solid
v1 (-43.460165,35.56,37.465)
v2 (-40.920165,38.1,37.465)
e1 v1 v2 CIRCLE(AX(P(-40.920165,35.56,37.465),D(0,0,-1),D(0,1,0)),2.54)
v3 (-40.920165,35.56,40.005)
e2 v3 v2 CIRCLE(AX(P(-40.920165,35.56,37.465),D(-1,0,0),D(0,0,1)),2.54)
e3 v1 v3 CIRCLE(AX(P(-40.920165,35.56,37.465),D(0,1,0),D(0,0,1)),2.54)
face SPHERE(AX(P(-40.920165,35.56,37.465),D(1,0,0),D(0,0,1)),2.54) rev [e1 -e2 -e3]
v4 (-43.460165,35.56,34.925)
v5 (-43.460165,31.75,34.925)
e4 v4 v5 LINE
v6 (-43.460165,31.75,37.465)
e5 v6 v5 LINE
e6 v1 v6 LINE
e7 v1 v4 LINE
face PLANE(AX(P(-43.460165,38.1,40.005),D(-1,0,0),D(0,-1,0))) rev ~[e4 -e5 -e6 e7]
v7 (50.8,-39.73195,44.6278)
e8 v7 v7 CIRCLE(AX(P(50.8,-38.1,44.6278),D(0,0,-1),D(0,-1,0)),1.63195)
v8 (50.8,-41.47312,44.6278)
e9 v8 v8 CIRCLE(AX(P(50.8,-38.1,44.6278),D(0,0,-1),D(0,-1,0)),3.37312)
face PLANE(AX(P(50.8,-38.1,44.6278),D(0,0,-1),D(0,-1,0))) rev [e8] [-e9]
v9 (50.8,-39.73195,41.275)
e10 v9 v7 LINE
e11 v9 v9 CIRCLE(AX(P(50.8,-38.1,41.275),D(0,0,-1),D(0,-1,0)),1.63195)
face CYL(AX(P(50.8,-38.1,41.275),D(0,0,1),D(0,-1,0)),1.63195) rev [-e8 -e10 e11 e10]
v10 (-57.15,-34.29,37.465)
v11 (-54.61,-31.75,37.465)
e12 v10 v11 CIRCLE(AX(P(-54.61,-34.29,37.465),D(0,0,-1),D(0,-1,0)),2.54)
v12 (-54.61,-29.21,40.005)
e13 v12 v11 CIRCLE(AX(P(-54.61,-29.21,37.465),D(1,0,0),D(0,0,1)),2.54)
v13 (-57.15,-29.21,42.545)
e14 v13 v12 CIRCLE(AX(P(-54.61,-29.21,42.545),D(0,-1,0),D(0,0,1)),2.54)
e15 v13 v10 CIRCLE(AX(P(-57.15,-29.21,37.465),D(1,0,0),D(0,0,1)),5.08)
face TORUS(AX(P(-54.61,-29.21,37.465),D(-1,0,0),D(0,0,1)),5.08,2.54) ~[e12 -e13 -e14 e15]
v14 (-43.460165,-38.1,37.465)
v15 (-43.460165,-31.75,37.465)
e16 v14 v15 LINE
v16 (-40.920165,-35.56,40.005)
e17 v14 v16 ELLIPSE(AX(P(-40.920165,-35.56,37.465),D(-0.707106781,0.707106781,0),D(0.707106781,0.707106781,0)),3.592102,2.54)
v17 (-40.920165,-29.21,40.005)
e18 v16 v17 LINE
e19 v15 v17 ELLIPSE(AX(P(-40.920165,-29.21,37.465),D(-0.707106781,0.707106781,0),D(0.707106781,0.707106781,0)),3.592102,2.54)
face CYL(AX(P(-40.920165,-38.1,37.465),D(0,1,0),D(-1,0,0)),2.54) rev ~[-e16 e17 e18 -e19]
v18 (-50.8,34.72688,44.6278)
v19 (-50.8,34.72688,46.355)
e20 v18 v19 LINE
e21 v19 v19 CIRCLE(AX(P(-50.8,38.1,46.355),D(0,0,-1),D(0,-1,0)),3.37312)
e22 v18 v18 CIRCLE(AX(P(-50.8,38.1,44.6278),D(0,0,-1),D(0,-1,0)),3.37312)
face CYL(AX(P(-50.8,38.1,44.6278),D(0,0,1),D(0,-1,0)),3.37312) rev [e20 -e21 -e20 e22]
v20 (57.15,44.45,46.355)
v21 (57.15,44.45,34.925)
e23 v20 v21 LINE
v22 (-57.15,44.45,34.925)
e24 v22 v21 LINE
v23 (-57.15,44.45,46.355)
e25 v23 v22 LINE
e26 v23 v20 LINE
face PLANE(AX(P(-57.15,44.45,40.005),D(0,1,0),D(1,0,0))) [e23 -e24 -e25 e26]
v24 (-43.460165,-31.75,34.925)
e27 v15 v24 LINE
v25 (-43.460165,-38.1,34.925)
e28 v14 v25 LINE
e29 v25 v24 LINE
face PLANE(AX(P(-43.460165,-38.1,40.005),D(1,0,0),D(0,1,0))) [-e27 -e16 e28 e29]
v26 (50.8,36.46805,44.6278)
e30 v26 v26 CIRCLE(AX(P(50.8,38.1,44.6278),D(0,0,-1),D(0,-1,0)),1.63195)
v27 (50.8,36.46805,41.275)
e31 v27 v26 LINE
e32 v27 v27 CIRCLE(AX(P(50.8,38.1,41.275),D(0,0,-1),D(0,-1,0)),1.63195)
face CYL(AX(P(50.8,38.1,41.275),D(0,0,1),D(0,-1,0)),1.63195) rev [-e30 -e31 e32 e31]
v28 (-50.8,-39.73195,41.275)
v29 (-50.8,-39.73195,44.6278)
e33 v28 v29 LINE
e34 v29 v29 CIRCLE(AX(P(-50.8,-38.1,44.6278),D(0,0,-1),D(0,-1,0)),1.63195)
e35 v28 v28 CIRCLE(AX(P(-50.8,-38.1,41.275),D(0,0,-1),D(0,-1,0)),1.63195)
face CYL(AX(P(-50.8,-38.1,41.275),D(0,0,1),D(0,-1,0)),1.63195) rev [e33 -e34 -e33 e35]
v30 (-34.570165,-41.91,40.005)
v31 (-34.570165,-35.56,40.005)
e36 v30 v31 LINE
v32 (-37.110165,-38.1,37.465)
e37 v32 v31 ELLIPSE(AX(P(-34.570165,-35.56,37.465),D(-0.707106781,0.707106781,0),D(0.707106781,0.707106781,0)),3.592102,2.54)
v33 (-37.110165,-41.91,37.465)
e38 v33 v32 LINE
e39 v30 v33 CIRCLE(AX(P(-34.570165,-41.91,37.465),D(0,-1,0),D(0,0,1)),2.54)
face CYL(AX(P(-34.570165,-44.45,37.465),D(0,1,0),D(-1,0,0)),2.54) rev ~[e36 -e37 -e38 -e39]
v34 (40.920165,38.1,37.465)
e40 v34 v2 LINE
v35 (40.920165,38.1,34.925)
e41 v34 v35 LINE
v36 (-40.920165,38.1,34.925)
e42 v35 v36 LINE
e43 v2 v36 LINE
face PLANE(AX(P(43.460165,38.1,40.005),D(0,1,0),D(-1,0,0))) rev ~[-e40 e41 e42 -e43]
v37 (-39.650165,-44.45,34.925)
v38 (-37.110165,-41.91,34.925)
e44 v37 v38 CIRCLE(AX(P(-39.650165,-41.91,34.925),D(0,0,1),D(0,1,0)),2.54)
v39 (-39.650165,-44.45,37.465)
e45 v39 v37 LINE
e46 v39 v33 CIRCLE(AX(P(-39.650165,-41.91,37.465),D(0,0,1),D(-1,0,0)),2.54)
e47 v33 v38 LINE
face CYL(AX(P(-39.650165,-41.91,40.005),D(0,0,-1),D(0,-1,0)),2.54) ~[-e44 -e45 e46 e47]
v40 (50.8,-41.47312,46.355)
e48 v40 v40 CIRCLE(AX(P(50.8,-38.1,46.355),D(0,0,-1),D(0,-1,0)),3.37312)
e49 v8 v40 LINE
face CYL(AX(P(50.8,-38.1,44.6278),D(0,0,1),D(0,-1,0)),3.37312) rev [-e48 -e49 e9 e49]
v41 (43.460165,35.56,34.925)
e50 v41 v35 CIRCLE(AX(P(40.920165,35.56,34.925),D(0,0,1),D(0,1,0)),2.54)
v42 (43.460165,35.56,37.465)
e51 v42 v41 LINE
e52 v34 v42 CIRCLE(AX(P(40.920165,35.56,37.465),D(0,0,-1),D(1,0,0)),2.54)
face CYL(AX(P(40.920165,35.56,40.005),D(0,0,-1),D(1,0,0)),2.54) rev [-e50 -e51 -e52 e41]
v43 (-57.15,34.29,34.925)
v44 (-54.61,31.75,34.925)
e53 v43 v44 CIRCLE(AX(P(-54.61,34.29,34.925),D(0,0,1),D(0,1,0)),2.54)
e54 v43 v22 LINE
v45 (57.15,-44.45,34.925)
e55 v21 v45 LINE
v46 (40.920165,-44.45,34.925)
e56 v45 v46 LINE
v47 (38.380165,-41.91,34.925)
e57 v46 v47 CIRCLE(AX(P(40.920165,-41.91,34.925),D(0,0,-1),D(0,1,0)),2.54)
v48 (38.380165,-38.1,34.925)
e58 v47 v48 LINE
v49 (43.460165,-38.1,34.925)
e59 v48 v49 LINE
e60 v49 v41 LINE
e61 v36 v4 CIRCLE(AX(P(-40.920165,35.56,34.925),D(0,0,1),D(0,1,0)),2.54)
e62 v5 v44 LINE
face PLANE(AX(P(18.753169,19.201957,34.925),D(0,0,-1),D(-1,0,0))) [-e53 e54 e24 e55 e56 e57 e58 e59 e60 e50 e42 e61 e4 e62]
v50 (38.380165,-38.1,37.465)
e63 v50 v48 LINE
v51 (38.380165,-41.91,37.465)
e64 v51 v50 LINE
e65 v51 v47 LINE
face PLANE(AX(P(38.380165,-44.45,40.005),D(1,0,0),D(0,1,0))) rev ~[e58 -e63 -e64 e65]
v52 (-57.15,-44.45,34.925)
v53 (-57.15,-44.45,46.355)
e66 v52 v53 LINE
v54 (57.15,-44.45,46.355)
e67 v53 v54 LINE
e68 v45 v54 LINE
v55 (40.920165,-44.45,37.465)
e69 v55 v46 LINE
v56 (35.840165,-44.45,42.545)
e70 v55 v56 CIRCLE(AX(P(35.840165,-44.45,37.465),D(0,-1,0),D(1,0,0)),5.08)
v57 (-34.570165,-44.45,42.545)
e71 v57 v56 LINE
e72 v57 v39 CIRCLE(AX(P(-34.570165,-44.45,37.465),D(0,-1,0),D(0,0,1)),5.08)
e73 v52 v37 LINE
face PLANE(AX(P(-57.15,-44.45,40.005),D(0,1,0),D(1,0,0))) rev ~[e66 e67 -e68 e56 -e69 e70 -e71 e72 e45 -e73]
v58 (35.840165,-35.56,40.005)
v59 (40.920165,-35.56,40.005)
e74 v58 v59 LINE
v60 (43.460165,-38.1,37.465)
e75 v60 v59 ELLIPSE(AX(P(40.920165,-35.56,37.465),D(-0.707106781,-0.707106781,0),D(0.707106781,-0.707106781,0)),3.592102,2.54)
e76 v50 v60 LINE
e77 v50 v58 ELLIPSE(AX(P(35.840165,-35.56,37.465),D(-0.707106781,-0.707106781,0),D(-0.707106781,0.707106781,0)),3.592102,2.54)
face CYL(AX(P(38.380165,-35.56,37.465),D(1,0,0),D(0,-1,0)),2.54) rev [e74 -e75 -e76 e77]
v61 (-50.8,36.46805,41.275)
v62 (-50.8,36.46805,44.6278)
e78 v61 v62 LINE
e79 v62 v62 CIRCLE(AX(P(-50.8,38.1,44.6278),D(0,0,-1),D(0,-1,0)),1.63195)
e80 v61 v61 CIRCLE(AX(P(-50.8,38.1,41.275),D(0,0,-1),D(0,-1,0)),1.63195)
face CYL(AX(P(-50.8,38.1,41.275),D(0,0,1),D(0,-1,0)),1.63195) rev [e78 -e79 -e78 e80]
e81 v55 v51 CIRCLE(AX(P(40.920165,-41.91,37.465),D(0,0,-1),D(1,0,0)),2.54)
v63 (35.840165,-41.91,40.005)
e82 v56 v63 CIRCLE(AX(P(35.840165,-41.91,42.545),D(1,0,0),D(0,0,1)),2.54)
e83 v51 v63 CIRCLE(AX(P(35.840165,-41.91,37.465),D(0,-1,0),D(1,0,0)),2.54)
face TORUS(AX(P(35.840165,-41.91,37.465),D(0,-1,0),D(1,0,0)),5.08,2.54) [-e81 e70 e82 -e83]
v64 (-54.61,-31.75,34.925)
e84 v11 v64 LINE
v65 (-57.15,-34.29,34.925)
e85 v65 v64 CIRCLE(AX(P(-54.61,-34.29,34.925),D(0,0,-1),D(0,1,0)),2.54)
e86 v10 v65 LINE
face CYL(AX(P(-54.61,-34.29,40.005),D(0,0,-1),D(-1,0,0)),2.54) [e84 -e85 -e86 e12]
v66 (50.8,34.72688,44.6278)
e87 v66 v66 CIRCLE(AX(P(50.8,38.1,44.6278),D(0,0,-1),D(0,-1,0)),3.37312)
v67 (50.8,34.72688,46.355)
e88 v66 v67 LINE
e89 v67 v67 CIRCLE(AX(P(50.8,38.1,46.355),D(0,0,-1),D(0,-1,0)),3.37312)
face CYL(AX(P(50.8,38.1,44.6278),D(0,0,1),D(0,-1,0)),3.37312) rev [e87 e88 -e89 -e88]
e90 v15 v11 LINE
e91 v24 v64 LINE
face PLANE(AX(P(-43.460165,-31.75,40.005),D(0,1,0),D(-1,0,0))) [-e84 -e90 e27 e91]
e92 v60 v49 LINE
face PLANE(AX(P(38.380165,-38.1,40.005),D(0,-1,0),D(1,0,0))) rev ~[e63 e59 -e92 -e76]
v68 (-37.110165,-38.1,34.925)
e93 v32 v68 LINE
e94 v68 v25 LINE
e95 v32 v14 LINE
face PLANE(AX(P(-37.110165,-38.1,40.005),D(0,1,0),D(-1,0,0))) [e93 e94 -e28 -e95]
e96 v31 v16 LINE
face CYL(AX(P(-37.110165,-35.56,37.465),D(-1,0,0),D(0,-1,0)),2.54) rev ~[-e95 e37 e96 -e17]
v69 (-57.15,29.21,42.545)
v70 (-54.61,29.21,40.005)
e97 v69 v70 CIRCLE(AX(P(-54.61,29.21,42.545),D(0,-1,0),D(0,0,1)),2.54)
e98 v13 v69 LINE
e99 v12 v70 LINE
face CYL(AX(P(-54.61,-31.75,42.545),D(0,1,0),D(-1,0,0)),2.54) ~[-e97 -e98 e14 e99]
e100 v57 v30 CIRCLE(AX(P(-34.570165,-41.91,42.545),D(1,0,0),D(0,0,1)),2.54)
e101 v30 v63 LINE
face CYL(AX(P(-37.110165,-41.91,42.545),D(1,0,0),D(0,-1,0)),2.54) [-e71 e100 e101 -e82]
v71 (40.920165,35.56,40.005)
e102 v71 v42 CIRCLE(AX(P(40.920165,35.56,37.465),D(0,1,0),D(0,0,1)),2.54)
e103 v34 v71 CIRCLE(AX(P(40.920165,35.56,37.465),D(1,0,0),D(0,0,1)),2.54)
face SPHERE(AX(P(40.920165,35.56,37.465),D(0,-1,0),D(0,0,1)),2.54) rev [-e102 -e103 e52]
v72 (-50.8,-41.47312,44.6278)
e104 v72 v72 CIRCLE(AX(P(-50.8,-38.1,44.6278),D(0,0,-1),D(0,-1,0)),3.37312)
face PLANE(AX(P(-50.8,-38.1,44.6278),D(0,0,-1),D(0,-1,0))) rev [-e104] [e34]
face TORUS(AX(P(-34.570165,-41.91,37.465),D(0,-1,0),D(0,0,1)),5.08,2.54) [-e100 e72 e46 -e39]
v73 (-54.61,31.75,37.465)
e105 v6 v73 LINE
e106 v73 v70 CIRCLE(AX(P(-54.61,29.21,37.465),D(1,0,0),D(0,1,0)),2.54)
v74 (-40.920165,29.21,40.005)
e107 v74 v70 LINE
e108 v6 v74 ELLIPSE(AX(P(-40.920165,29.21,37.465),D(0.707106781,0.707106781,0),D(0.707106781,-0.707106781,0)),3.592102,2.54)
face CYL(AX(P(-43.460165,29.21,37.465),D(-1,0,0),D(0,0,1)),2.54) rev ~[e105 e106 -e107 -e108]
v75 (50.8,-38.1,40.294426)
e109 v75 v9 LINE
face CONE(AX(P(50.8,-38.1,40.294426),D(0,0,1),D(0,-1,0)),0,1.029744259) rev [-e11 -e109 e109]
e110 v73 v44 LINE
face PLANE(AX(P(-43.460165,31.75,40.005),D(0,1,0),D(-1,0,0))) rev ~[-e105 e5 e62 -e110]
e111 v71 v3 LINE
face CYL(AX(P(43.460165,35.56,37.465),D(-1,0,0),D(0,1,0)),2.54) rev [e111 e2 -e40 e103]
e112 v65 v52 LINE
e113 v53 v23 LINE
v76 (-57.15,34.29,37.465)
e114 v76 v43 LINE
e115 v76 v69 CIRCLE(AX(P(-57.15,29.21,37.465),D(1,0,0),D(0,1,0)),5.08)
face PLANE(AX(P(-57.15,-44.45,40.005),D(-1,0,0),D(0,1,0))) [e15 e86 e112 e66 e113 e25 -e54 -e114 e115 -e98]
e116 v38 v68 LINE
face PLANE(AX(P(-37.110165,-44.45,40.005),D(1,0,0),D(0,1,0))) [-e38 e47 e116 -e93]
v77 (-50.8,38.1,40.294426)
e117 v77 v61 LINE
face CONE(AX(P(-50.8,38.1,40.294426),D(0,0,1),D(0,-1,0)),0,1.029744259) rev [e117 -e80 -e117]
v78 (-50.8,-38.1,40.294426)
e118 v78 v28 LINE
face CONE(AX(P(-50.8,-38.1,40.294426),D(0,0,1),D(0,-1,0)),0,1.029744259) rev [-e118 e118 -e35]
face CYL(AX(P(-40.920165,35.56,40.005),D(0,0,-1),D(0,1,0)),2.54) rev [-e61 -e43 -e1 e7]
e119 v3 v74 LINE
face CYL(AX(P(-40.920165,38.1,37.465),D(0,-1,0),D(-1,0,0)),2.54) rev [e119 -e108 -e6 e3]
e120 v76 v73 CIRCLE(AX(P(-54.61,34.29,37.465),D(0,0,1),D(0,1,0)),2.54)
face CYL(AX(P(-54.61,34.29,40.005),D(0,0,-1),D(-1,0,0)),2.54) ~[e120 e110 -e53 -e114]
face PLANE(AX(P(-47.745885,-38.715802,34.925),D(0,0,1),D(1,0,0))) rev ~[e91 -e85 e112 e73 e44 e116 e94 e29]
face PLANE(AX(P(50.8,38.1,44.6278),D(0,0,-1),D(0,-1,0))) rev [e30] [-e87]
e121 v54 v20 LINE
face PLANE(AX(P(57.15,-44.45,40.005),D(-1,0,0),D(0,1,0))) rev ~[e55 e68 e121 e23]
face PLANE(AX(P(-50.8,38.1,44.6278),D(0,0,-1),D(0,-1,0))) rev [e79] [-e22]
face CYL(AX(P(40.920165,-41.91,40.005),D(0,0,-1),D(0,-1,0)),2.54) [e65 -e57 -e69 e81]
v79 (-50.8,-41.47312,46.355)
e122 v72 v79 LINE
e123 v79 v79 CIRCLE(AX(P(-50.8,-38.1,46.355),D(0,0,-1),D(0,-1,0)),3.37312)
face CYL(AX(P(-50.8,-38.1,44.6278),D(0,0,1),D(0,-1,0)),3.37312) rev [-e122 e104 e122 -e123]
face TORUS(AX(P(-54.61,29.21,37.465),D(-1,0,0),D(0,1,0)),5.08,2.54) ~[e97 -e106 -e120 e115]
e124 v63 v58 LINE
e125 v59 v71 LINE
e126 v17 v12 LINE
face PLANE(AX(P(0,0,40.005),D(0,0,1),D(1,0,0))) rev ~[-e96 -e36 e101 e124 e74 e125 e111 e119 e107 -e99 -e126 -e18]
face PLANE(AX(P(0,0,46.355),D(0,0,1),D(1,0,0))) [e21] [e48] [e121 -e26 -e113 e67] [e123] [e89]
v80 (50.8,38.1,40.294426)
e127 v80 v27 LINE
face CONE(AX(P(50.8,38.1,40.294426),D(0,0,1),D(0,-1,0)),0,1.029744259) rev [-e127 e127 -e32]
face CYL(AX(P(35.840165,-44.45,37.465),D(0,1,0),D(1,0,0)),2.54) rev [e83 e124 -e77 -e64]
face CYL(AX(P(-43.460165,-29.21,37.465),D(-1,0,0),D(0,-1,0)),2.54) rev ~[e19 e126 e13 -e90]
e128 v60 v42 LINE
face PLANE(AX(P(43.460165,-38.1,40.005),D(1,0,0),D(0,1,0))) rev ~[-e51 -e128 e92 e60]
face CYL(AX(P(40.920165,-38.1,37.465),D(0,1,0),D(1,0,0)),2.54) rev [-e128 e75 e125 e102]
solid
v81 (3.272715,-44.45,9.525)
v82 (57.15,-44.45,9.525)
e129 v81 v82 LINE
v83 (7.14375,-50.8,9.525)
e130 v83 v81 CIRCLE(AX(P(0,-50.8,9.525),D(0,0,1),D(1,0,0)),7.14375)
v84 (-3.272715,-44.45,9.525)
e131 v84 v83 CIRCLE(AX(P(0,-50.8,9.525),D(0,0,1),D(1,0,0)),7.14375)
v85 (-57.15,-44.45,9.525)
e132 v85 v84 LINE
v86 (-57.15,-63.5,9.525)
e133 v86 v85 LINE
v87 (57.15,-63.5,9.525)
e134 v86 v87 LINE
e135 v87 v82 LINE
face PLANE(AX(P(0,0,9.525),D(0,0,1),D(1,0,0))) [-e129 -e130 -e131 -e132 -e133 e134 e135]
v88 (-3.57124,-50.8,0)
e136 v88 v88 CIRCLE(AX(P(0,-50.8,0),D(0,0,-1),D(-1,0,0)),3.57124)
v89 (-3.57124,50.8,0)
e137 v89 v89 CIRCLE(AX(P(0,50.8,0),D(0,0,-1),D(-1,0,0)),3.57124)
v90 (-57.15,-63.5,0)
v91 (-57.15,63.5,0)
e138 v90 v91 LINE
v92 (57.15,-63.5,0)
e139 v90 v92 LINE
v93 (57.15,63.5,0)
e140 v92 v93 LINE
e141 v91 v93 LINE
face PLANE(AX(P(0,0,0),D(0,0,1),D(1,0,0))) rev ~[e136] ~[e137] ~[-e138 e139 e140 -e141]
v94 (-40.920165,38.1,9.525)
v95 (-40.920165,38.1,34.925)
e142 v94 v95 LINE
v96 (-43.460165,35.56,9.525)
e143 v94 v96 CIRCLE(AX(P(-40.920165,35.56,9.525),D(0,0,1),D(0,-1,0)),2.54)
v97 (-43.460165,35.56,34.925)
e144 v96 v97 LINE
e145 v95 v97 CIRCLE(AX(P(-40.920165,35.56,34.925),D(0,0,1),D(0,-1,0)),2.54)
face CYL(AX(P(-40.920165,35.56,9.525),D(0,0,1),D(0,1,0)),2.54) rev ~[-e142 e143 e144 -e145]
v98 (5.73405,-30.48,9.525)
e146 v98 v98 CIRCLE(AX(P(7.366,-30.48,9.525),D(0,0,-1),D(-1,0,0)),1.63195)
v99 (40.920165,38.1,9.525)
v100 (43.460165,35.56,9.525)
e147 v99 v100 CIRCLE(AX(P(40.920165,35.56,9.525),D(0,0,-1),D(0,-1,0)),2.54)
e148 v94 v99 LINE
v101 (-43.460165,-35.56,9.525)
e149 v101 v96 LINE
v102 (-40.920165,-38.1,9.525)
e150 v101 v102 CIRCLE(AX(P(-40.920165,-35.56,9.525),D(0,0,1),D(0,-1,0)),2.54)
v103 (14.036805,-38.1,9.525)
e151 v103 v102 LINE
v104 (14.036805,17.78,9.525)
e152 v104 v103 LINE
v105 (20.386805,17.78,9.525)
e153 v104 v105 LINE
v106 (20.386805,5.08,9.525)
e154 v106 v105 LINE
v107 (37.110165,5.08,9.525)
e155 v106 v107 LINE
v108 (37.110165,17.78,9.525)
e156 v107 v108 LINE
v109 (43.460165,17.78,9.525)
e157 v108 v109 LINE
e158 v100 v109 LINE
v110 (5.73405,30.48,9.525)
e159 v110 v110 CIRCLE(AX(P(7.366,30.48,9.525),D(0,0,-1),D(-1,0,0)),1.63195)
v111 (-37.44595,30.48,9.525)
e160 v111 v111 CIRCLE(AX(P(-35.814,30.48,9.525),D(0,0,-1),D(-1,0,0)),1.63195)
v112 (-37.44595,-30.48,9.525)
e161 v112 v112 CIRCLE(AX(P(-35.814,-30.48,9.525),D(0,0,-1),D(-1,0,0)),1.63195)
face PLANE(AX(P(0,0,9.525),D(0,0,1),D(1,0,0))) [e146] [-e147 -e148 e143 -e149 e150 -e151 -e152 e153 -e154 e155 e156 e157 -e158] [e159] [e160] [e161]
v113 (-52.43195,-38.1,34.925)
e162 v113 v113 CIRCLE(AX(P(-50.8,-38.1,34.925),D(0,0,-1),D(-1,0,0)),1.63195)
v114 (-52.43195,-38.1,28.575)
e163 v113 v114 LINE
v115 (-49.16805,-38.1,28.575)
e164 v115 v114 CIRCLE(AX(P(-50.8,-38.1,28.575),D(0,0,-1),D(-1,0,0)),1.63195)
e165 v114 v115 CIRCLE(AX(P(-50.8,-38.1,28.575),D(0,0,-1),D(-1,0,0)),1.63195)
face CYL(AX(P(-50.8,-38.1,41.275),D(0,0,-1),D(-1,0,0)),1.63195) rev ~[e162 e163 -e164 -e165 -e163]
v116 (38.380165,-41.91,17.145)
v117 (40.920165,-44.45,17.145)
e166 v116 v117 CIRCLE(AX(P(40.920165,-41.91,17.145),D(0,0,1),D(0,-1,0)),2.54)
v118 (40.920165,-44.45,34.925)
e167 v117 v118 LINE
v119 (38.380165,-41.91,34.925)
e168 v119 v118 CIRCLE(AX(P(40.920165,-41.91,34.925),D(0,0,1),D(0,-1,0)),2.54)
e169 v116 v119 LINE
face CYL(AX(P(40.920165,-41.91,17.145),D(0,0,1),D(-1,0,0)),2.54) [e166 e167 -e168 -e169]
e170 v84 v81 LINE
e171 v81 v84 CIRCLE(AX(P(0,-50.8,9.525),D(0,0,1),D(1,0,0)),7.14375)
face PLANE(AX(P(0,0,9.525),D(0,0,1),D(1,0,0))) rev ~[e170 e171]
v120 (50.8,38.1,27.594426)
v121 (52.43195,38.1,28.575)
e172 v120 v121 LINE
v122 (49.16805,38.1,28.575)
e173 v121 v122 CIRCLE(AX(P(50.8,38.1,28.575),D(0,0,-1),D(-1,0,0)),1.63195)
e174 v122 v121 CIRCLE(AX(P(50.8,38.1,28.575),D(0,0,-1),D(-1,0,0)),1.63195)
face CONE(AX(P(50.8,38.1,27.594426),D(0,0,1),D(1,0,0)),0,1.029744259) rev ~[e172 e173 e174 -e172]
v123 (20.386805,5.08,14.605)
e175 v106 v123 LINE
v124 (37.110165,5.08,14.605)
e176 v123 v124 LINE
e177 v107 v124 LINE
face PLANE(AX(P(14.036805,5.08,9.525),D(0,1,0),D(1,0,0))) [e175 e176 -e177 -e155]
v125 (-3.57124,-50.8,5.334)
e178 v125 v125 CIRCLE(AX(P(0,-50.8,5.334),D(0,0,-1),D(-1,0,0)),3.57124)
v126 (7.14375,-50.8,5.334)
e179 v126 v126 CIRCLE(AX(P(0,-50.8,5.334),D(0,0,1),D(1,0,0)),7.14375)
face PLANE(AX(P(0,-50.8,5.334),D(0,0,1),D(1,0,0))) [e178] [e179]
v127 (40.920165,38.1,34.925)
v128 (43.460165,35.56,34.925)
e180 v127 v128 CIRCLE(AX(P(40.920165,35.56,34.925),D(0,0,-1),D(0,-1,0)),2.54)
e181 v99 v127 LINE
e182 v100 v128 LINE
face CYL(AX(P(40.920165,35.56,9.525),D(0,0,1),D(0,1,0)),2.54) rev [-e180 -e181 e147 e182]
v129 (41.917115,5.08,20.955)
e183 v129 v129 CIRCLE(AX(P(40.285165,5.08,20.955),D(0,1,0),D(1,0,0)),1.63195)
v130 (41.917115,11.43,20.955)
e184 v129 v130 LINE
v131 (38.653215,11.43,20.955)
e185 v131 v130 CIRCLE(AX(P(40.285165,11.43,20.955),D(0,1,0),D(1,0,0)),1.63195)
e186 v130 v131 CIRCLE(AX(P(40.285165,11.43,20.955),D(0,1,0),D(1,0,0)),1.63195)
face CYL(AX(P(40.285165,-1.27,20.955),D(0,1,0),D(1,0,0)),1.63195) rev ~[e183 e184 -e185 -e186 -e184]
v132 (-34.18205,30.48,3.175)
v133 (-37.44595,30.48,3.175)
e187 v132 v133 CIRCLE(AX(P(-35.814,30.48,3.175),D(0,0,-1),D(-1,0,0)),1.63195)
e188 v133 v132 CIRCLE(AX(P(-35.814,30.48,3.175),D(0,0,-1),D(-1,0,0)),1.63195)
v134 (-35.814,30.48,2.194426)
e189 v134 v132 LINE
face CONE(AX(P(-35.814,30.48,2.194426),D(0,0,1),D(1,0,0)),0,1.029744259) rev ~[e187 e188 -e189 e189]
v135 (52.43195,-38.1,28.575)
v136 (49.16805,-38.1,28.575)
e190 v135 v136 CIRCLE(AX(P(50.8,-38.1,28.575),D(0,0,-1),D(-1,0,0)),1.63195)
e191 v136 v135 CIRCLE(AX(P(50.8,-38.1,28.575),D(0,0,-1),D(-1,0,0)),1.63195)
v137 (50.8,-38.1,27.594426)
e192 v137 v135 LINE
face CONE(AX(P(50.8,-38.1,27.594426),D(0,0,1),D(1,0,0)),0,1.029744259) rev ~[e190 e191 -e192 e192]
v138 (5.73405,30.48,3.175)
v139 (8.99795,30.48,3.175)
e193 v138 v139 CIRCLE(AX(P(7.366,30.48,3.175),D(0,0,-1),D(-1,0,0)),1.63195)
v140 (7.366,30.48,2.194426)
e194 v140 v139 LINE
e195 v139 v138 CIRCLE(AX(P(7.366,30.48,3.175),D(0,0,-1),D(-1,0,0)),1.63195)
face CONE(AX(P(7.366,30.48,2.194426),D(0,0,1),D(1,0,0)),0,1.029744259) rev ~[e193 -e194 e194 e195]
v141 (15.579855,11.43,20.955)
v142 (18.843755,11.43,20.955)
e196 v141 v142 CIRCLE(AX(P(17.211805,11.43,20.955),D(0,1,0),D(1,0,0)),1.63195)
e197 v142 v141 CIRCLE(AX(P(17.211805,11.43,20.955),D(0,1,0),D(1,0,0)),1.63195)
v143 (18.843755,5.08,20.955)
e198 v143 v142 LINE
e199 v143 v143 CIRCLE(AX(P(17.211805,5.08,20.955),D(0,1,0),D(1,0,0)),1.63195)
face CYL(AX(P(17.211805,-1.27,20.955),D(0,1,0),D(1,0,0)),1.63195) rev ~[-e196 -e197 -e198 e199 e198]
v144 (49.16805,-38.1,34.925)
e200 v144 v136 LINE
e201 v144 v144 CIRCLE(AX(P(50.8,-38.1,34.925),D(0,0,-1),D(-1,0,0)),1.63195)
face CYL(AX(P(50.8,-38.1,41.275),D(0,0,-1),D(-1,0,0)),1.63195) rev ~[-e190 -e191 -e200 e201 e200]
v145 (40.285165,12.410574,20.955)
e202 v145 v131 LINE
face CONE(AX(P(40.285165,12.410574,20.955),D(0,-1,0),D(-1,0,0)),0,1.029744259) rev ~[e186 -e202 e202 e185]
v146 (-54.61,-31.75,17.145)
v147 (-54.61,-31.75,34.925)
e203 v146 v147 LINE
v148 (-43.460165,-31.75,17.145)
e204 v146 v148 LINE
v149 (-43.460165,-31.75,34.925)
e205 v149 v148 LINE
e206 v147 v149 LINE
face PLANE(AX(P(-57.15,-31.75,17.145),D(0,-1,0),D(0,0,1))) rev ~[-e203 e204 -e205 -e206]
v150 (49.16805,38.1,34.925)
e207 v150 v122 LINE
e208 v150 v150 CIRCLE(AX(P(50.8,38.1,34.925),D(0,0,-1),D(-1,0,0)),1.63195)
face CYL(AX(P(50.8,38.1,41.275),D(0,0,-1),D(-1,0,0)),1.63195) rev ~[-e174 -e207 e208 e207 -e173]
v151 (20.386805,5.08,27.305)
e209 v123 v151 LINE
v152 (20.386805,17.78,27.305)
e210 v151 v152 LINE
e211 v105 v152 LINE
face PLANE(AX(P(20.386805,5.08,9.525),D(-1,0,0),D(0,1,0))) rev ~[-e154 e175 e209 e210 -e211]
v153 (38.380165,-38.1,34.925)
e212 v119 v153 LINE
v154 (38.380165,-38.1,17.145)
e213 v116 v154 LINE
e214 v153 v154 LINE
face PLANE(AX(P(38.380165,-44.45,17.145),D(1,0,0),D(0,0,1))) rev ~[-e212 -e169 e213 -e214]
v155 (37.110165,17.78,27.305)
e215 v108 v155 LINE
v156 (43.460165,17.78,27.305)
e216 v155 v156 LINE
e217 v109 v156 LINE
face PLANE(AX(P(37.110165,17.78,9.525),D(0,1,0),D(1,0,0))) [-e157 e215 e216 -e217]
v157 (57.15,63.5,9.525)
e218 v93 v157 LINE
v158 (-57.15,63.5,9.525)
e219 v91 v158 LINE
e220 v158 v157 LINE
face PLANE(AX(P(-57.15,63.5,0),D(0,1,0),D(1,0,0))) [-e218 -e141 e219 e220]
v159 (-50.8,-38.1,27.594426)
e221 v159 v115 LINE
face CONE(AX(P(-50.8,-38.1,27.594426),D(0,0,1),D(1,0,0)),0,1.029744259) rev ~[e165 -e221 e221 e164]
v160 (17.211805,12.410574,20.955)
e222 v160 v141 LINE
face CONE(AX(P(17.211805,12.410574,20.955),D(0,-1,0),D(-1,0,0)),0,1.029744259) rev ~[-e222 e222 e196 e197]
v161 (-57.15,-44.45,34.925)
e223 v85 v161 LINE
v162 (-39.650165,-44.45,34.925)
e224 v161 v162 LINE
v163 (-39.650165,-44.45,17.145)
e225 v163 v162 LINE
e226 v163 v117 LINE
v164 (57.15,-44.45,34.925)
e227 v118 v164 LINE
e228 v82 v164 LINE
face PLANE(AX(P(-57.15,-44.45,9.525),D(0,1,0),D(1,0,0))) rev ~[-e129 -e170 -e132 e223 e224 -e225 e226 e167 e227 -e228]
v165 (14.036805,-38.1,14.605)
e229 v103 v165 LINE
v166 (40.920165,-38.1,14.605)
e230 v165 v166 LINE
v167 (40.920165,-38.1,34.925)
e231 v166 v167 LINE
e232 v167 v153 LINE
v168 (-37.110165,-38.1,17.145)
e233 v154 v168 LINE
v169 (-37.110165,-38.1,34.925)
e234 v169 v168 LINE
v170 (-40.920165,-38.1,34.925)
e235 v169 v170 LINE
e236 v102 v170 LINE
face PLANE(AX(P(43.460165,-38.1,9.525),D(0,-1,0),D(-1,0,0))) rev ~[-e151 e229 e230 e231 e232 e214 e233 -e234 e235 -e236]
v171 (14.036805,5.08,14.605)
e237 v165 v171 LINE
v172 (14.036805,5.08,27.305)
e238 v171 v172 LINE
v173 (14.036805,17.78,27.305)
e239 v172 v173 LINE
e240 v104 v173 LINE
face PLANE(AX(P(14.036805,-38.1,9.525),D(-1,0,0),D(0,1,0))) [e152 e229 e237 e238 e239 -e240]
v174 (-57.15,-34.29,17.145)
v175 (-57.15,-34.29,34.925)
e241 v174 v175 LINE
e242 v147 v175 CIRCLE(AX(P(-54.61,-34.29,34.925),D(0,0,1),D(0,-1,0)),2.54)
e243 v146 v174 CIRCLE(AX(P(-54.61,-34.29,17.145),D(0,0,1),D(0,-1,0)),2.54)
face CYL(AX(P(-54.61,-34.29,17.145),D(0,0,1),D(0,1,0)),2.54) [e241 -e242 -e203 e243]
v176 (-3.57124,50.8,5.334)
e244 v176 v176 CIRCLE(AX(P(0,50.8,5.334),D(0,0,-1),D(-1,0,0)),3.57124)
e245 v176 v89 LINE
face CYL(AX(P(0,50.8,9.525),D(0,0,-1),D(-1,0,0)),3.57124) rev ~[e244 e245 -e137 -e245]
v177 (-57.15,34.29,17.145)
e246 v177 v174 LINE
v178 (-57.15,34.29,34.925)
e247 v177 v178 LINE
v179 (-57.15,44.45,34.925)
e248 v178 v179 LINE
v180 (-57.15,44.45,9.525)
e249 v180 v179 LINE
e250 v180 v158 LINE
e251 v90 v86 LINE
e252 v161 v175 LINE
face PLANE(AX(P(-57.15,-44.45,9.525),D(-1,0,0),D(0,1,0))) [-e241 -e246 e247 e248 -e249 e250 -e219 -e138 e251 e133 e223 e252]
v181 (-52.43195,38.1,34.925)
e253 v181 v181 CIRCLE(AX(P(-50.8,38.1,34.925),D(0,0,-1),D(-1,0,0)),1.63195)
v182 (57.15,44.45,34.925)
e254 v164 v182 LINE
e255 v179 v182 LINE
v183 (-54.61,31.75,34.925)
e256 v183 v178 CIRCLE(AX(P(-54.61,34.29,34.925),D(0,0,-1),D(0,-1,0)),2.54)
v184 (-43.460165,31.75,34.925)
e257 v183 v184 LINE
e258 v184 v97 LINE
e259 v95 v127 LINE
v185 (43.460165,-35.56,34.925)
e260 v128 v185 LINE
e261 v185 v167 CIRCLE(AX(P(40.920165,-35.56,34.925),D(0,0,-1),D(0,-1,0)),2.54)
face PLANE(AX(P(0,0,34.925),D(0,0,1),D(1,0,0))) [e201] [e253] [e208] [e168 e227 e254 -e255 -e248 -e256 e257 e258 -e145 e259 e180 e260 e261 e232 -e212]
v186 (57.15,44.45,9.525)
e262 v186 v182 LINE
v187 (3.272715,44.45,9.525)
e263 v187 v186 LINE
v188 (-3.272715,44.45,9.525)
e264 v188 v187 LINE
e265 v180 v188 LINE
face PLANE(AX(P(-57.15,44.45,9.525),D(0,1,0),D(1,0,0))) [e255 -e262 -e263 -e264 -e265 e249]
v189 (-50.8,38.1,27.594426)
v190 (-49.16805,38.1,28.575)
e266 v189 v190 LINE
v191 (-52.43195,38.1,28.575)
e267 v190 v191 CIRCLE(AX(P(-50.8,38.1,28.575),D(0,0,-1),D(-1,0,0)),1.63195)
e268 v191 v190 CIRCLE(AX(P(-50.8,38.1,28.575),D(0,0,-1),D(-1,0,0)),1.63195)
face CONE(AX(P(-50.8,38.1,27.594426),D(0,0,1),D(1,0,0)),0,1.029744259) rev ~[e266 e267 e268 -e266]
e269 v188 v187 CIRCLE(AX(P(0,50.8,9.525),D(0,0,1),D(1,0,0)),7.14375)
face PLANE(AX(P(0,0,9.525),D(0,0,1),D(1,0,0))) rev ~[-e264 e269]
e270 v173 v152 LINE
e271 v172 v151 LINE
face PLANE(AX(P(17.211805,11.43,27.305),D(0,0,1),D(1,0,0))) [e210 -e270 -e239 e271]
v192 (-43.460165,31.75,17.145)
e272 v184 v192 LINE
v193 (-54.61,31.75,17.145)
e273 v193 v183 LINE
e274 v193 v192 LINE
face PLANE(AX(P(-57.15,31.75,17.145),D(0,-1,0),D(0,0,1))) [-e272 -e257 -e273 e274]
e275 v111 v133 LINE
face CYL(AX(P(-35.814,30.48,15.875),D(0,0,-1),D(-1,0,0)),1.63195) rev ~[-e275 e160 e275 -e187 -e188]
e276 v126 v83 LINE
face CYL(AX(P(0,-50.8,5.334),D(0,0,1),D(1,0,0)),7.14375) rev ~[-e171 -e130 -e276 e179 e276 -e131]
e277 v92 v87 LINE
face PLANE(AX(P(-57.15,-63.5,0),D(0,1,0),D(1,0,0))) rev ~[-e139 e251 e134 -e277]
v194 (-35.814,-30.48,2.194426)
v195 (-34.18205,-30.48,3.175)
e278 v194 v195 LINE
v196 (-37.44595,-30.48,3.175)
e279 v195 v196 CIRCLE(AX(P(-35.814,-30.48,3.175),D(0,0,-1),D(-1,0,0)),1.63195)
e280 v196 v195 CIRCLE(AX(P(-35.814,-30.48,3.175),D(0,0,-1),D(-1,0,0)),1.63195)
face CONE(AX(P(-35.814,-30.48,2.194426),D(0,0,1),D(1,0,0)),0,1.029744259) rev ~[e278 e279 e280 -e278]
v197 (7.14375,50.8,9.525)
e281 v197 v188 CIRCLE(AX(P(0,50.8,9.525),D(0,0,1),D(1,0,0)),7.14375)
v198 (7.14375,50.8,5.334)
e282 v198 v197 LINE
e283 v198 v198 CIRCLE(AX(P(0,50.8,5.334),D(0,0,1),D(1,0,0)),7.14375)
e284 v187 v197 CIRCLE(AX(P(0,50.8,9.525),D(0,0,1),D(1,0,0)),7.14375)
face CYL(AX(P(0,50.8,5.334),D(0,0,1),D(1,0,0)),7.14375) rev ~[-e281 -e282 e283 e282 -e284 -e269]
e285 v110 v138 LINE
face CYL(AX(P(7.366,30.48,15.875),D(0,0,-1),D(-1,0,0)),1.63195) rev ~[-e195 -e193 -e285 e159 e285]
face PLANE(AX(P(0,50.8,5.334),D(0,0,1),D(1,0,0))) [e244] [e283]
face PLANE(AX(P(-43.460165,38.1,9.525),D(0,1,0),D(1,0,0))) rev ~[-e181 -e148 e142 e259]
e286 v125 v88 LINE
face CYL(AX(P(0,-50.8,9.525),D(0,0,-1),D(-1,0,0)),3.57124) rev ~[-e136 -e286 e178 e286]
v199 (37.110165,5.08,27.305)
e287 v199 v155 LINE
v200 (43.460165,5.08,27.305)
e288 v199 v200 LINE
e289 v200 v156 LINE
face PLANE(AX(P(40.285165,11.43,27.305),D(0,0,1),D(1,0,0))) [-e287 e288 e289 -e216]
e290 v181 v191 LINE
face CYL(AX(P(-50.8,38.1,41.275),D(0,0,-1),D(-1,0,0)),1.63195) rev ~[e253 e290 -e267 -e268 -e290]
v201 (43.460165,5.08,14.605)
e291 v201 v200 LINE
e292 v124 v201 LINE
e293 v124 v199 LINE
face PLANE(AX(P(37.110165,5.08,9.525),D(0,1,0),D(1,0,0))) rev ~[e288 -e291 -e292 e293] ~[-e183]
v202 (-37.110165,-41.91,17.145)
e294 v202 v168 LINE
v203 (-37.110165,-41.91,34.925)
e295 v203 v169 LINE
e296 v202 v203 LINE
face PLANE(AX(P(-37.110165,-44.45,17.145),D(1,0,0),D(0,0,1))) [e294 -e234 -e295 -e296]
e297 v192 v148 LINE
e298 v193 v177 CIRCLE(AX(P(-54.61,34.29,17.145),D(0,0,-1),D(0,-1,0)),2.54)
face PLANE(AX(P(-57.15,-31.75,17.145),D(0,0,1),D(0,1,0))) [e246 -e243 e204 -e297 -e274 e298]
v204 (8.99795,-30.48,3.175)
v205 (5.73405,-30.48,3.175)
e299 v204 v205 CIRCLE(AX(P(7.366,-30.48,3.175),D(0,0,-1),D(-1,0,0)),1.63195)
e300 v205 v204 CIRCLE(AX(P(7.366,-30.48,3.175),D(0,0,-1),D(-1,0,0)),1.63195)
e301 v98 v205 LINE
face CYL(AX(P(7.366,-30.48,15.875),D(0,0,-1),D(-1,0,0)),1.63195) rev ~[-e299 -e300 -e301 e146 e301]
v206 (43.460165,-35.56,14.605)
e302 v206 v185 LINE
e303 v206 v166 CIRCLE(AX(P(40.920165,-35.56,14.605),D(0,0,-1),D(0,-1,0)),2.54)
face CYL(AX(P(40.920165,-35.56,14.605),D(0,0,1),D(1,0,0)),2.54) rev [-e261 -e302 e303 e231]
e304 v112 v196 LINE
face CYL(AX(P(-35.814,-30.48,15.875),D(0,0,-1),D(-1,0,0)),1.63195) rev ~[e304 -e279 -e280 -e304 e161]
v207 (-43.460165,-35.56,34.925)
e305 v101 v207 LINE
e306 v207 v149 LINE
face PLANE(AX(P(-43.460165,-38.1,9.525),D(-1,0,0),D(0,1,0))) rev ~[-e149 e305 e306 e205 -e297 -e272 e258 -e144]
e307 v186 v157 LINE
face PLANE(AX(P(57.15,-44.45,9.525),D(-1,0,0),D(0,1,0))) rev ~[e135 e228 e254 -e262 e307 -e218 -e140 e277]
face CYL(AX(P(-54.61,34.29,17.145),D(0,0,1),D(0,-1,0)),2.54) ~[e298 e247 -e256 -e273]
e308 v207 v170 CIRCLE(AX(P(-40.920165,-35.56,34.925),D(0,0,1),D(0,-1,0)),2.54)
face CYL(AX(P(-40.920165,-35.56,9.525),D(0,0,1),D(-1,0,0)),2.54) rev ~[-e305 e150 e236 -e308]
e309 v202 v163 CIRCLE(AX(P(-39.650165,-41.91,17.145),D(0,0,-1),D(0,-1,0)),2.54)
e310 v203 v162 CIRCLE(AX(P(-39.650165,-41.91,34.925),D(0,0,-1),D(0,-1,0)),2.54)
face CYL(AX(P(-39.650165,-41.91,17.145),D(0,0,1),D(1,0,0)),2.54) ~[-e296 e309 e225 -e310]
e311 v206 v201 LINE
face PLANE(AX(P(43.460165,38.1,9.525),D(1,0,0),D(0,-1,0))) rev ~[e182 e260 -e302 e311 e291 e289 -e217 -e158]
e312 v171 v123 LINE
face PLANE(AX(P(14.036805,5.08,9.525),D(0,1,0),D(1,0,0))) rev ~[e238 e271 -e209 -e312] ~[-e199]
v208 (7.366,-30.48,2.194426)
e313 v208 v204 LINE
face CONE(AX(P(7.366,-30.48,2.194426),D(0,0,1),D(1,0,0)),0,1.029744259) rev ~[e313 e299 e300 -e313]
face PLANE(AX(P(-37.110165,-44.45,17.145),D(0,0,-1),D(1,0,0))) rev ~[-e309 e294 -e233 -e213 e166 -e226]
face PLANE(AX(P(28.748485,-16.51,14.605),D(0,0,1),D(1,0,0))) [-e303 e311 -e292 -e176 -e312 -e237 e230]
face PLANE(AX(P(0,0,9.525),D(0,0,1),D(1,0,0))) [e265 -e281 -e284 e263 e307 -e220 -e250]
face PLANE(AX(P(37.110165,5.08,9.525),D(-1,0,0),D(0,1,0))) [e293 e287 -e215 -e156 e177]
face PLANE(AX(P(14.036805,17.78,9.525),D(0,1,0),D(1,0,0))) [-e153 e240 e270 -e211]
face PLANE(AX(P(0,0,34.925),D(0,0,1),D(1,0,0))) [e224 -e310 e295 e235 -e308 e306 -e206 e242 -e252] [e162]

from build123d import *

# Parameters (mm, degrees)
SKETCH1_W                                            = 114.3
SKETCH1_H                                            = 127
BASE_DEPTH                                           = 9.525
CBORE_FOR_1_4_BINDING_HEAD_MACHINE_SCREW_D           = 7.14248
CBORE_FOR_1_4_BINDING_HEAD_MACHINE_SCREW_CBORE_D     = 14.2875
CBORE_FOR_1_4_BINDING_HEAD_MACHINE_SCREW_CBORE_DEPTH = 4.191
SKETCH4_W                                            = 114.3
SKETCH4_H                                            = 88.9
BOSS_EXTRUDE2_DEPTH                                  = 25.4
CUT_EXTRUDE1_REACH                                   = 129.04
SKETCH11_W                                           = 75.490330722
SKETCH11_H                                           = 17.78
CUT_EXTRUDE2_REACH                                   = 137.338
SKETCH12_W                                           = 17.78
SKETCH12_H                                           = 63.5
F_4_CLEARANCE_HOLE1_D                                = 3.2639
F_4_CLEARANCE_HOLE1_DEPTH                            = 6.35
F_4_CLEARANCE_HOLE1_TIP                              = 0.980574487
F_4_CLEARANCE_HOLE2_D                                = 3.2639
F_4_CLEARANCE_HOLE2_DEPTH                            = 6.35
F_4_CLEARANCE_HOLE2_TIP                              = 0.980574487
SKETCH23_W                                           = 6.35
SKETCH23_H                                           = 12.7
BOSS_EXTRUDE5_DEPTH                                  = 17.78
F_4_CLEARANCE_HOLE3_D                                = 3.2639
F_4_CLEARANCE_HOLE3_DEPTH                            = 6.35
F_4_CLEARANCE_HOLE3_TIP                              = 0.980574487
SKETCH27_W                                           = 29.42336
SKETCH27_H                                           = 43.18
BOSS_EXTRUDE6_DEPTH                                  = 5.08
BOSS_EXTRUDE3_DEPTH                                  = 5.08
BOSS_EXTRUDE3_2_DEPTH                                = 5.08
FILLET3_R                                            = 2.54
SKETCH14_W                                           = 114.3
SKETCH14_H                                           = 88.9
BOSS_EXTRUDE4_DEPTH                                  = 6.35
FILLET1_R                                            = 2.54
CBORE_FOR_4_BINDING_HEAD_MACHINE_SC_2_COUNT          = 2
CBORE_FOR_4_BINDING_HEAD_MACHINE_SC_2_PITCH          = 76.2
CBORE_FOR_4_BINDING_HEAD_MACHINE_SC_3_COUNT          = 2
CBORE_FOR_4_BINDING_HEAD_MACHINE_SC_3_PITCH          = 127
CBORE_FOR_4_BINDING_HEAD_MACHINE_SC_4_COUNT          = 2
CBORE_FOR_4_BINDING_HEAD_MACHINE_SC_4_PITCH          = 101.6


with BuildPart() as part:
    # Sketch1 → base (new body)
    with BuildSketch(Plane.XY):
        Rectangle(SKETCH1_W, SKETCH1_H)
    extrude(amount=BASE_DEPTH)

    # CBORE for 1/4 Binding Head Machine Screw1 (through all)
    with Locations(Plane.XY.offset(9.525)):
        with Locations((0, 50.8), (0, -50.8)):
            CounterBoreHole(CBORE_FOR_1_4_BINDING_HEAD_MACHINE_SCREW_D / 2, CBORE_FOR_1_4_BINDING_HEAD_MACHINE_SCREW_CBORE_D / 2, CBORE_FOR_1_4_BINDING_HEAD_MACHINE_SCREW_CBORE_DEPTH)

    # Sketch4 → Boss-Extrude2 (add)
    with BuildSketch(Plane.XY.offset(9.525)):
        Rectangle(SKETCH4_W, SKETCH4_H)
        Polygon((-43.460165361, 38.1), (43.460165361, 38.1), (43.460165361, 18.034), (43.460165361, 12.954), (43.460165361, -12.954), (43.460165361, -18.034), (43.460165361, -38.1), (-43.460165361, -38.1), align=None, mode=Mode.SUBTRACT)
    extrude(amount=BOSS_EXTRUDE2_DEPTH)

    # Sketch11 → Cut-Extrude1 (cut, up to next)
    with BuildSketch(Plane.XZ.offset(44.45), mode=Mode.PRIVATE) as cut_extrude1_sk1:
        with Locations((0.635, 26.035)):
            Rectangle(SKETCH11_W, SKETCH11_H)
    cut_extrude1_tool1 = extrude(cut_extrude1_sk1.sketch, amount=-CUT_EXTRUDE1_REACH, mode=Mode.PRIVATE) & part.part
    add(cut_extrude1_tool1.solids().sort_by_distance((0.635, -44.45, 26.035))[0], mode=Mode.SUBTRACT)

    # Sketch12 → Cut-Extrude2 (cut, up to next)
    with BuildSketch(Plane.ZY.offset(57.15), mode=Mode.PRIVATE) as cut_extrude2_sk1:
        with Locations((26.035, 0)):
            Rectangle(SKETCH12_W, SKETCH12_H)
    cut_extrude2_tool1 = extrude(cut_extrude2_sk1.sketch, amount=-CUT_EXTRUDE2_REACH, mode=Mode.PRIVATE) & part.part
    add(cut_extrude2_tool1.solids().sort_by_distance((-57.15, 0, 26.035))[0], mode=Mode.SUBTRACT)

    # #4 Clearance Hole1
    with Locations(Plane.XY.offset(34.925)):
        with Locations((50.8, 38.1), (50.8, -38.1), (-50.8, -38.1), (-50.8, 38.1)):
            Hole(F_4_CLEARANCE_HOLE1_D / 2, depth=F_4_CLEARANCE_HOLE1_DEPTH)
            with Locations((0, 0, -(F_4_CLEARANCE_HOLE1_DEPTH + F_4_CLEARANCE_HOLE1_TIP / 2))):  # 118° drill point
                Cone(0, F_4_CLEARANCE_HOLE1_D / 2, F_4_CLEARANCE_HOLE1_TIP, mode=Mode.SUBTRACT)

    # #4 Clearance Hole2
    with Locations(Plane.XY.offset(9.525)):
        with Locations((-35.814, -30.48), (-35.814, 30.48), (7.366, -30.48), (7.366, 30.48)):
            Hole(F_4_CLEARANCE_HOLE2_D / 2, depth=F_4_CLEARANCE_HOLE2_DEPTH)
            with Locations((0, 0, -(F_4_CLEARANCE_HOLE2_DEPTH + F_4_CLEARANCE_HOLE2_TIP / 2))):  # 118° drill point
                Cone(0, F_4_CLEARANCE_HOLE2_D / 2, F_4_CLEARANCE_HOLE2_TIP, mode=Mode.SUBTRACT)

    # Sketch23 → Boss-Extrude5 (add)
    with BuildSketch(Plane.XY.offset(9.525)):
        with Locations((17.211805361, 11.43)):
            Rectangle(SKETCH23_W, SKETCH23_H)
        with Locations((40.285165361, 11.43)):
            Rectangle(SKETCH23_W, SKETCH23_H)
    extrude(amount=BOSS_EXTRUDE5_DEPTH)

    # #4 Clearance Hole3
    with Locations(Plane(origin=(0, 5.08, 0), x_dir=(-1, 0, 0), z_dir=(0, -1, 0))):
        with Locations((-17.211805361, -20.955), (-40.285165361, -20.955)):
            Hole(F_4_CLEARANCE_HOLE3_D / 2, depth=F_4_CLEARANCE_HOLE3_DEPTH)
            with Locations((0, 0, -(F_4_CLEARANCE_HOLE3_DEPTH + F_4_CLEARANCE_HOLE3_TIP / 2))):  # 118° drill point
                Cone(0, F_4_CLEARANCE_HOLE3_D / 2, F_4_CLEARANCE_HOLE3_TIP, mode=Mode.SUBTRACT)

    # Sketch27 → Boss-Extrude6 (add)
    with BuildSketch(Plane.XY.offset(9.525)):
        with Locations((28.748485361, -16.51)):
            Rectangle(SKETCH27_W, SKETCH27_H)
    extrude(amount=BOSS_EXTRUDE6_DEPTH)

    # Fillet3
    fillet3_edges = [part.edges().sort_by_distance(p)[0] for p in [
        (43.460165361, 38.1, 22.225),
        (-43.460165361, 38.1, 22.225),
        (-43.460165361, -38.1, 22.225),
        (43.460165361, -38.1, 24.765),
        (-37.110165361, -44.45, 26.035),
        (38.380165361, -44.45, 26.035),
        (-57.15, -31.75, 26.035),
        (-57.15, 31.75, 26.035),
    ]]
    fillet(fillet3_edges, radius=FILLET3_R)


with BuildPart() as body_2:
    # Sketch13 → Boss-Extrude3 (new body)
    with BuildSketch(Plane.XY.offset(40.005)):
        Polygon((-43.460165361, 31.75), (-57.15, 31.75), (-57.15, 44.45), (57.15, 44.45), (57.15, -44.45), (38.380165361, -44.45), (38.380165361, -38.1), (43.460165361, -38.1), (43.460165361, 38.1), (-43.460165361, 38.1), align=None)
    extrude(amount=-BOSS_EXTRUDE3_DEPTH)



with BuildPart() as body_3:
    # Sketch13 → Boss-Extrude3 2 (new body)
    with BuildSketch(Plane.XY.offset(40.005)):
        Polygon((-43.460165361, -31.75), (-57.15, -31.75), (-57.15, -44.45), (-37.110165361, -44.45), (-37.110165361, -38.1), (-43.460165361, -38.1), align=None)
    extrude(amount=-BOSS_EXTRUDE3_2_DEPTH)


with BuildPart() as body_2_1:
    add(body_2.part)

    add(body_3.part)  # Boss-Extrude4 merges body 3
    # Sketch14 → Boss-Extrude4 (add)
    with BuildSketch(Plane.XY.offset(40.005)):
        Rectangle(SKETCH14_W, SKETCH14_H)
    extrude(amount=BOSS_EXTRUDE4_DEPTH)

    # Fillet1
    fillet1_edges = [body_2_1.edges().sort_by_distance(p)[0] for p in [
        (38.380165361, -41.275, 40.005),
        (40.920165361, -38.1, 40.005),
        (43.460165361, 0, 40.005),
        (0, 38.1, 40.005),
        (-43.460165361, 34.925, 40.005),
        (-43.460165361, 38.1, 37.465),
        (43.460165361, 38.1, 37.465),
        (38.380165361, -44.45, 37.465),
        (-57.15, 31.75, 37.465),
        (-57.15, 0, 40.005),
        (0.635, -44.45, 40.005),
        (-37.110165361, -44.45, 37.465),
        (-57.15, -31.75, 37.465),
        (-43.460165361, -34.925, 40.005),
        (-50.305082681, -31.75, 40.005),
        (-37.110165361, -41.275, 40.005),
        (-40.285165361, -38.1, 40.005),
        (-50.305082681, 31.75, 40.005),
    ]]
    fillet(fillet1_edges, radius=FILLET1_R)

    # Sketch29 → CBORE for #4 Binding Head Machine Screw1 (revolve, cut)
    with BuildSketch(Plane(origin=(-50.8, -38.1, 46.355), x_dir=(0, -1, 0), z_dir=(1, 0, 0))):
        Polygon((0, 0), (0, 6.060574487), (1.63195, 5.08), (1.63195, 1.7272), (3.37312, 1.7272), (3.37312, 0), align=None)
    cbore_for_4_binding_head_machine_screw1 = revolve(axis=Axis((-50.8, -38.1, 52.705), (0, 0, -1)), mode=Mode.SUBTRACT)

    # CBORE for _4 Binding Head Machine Sc 2: CBORE for #4 Binding Head Machine Screw1 ×2
    with Locations(*[(0, i * CBORE_FOR_4_BINDING_HEAD_MACHINE_SC_2_PITCH, 0) for i in range(1, CBORE_FOR_4_BINDING_HEAD_MACHINE_SC_2_COUNT)]):
        add(cbore_for_4_binding_head_machine_screw1, mode=Mode.SUBTRACT)

    # CBORE for _4 Binding Head Machine Sc 3: CBORE for #4 Binding Head Machine Screw1 ×2
    with Locations(*[Vector(0.8, 0.5999999999999999, 0) * (i * CBORE_FOR_4_BINDING_HEAD_MACHINE_SC_3_PITCH) for i in range(1, CBORE_FOR_4_BINDING_HEAD_MACHINE_SC_3_COUNT)]):
        add(cbore_for_4_binding_head_machine_screw1, mode=Mode.SUBTRACT)

    # CBORE for _4 Binding Head Machine Sc 4: CBORE for #4 Binding Head Machine Screw1 ×2
    with Locations(*[(i * CBORE_FOR_4_BINDING_HEAD_MACHINE_SC_4_PITCH, 0, 0) for i in range(1, CBORE_FOR_4_BINDING_HEAD_MACHINE_SC_4_COUNT)]):
        add(cbore_for_4_binding_head_machine_screw1, mode=Mode.SUBTRACT)


solid = Compound([part.part, body_2_1.part])
